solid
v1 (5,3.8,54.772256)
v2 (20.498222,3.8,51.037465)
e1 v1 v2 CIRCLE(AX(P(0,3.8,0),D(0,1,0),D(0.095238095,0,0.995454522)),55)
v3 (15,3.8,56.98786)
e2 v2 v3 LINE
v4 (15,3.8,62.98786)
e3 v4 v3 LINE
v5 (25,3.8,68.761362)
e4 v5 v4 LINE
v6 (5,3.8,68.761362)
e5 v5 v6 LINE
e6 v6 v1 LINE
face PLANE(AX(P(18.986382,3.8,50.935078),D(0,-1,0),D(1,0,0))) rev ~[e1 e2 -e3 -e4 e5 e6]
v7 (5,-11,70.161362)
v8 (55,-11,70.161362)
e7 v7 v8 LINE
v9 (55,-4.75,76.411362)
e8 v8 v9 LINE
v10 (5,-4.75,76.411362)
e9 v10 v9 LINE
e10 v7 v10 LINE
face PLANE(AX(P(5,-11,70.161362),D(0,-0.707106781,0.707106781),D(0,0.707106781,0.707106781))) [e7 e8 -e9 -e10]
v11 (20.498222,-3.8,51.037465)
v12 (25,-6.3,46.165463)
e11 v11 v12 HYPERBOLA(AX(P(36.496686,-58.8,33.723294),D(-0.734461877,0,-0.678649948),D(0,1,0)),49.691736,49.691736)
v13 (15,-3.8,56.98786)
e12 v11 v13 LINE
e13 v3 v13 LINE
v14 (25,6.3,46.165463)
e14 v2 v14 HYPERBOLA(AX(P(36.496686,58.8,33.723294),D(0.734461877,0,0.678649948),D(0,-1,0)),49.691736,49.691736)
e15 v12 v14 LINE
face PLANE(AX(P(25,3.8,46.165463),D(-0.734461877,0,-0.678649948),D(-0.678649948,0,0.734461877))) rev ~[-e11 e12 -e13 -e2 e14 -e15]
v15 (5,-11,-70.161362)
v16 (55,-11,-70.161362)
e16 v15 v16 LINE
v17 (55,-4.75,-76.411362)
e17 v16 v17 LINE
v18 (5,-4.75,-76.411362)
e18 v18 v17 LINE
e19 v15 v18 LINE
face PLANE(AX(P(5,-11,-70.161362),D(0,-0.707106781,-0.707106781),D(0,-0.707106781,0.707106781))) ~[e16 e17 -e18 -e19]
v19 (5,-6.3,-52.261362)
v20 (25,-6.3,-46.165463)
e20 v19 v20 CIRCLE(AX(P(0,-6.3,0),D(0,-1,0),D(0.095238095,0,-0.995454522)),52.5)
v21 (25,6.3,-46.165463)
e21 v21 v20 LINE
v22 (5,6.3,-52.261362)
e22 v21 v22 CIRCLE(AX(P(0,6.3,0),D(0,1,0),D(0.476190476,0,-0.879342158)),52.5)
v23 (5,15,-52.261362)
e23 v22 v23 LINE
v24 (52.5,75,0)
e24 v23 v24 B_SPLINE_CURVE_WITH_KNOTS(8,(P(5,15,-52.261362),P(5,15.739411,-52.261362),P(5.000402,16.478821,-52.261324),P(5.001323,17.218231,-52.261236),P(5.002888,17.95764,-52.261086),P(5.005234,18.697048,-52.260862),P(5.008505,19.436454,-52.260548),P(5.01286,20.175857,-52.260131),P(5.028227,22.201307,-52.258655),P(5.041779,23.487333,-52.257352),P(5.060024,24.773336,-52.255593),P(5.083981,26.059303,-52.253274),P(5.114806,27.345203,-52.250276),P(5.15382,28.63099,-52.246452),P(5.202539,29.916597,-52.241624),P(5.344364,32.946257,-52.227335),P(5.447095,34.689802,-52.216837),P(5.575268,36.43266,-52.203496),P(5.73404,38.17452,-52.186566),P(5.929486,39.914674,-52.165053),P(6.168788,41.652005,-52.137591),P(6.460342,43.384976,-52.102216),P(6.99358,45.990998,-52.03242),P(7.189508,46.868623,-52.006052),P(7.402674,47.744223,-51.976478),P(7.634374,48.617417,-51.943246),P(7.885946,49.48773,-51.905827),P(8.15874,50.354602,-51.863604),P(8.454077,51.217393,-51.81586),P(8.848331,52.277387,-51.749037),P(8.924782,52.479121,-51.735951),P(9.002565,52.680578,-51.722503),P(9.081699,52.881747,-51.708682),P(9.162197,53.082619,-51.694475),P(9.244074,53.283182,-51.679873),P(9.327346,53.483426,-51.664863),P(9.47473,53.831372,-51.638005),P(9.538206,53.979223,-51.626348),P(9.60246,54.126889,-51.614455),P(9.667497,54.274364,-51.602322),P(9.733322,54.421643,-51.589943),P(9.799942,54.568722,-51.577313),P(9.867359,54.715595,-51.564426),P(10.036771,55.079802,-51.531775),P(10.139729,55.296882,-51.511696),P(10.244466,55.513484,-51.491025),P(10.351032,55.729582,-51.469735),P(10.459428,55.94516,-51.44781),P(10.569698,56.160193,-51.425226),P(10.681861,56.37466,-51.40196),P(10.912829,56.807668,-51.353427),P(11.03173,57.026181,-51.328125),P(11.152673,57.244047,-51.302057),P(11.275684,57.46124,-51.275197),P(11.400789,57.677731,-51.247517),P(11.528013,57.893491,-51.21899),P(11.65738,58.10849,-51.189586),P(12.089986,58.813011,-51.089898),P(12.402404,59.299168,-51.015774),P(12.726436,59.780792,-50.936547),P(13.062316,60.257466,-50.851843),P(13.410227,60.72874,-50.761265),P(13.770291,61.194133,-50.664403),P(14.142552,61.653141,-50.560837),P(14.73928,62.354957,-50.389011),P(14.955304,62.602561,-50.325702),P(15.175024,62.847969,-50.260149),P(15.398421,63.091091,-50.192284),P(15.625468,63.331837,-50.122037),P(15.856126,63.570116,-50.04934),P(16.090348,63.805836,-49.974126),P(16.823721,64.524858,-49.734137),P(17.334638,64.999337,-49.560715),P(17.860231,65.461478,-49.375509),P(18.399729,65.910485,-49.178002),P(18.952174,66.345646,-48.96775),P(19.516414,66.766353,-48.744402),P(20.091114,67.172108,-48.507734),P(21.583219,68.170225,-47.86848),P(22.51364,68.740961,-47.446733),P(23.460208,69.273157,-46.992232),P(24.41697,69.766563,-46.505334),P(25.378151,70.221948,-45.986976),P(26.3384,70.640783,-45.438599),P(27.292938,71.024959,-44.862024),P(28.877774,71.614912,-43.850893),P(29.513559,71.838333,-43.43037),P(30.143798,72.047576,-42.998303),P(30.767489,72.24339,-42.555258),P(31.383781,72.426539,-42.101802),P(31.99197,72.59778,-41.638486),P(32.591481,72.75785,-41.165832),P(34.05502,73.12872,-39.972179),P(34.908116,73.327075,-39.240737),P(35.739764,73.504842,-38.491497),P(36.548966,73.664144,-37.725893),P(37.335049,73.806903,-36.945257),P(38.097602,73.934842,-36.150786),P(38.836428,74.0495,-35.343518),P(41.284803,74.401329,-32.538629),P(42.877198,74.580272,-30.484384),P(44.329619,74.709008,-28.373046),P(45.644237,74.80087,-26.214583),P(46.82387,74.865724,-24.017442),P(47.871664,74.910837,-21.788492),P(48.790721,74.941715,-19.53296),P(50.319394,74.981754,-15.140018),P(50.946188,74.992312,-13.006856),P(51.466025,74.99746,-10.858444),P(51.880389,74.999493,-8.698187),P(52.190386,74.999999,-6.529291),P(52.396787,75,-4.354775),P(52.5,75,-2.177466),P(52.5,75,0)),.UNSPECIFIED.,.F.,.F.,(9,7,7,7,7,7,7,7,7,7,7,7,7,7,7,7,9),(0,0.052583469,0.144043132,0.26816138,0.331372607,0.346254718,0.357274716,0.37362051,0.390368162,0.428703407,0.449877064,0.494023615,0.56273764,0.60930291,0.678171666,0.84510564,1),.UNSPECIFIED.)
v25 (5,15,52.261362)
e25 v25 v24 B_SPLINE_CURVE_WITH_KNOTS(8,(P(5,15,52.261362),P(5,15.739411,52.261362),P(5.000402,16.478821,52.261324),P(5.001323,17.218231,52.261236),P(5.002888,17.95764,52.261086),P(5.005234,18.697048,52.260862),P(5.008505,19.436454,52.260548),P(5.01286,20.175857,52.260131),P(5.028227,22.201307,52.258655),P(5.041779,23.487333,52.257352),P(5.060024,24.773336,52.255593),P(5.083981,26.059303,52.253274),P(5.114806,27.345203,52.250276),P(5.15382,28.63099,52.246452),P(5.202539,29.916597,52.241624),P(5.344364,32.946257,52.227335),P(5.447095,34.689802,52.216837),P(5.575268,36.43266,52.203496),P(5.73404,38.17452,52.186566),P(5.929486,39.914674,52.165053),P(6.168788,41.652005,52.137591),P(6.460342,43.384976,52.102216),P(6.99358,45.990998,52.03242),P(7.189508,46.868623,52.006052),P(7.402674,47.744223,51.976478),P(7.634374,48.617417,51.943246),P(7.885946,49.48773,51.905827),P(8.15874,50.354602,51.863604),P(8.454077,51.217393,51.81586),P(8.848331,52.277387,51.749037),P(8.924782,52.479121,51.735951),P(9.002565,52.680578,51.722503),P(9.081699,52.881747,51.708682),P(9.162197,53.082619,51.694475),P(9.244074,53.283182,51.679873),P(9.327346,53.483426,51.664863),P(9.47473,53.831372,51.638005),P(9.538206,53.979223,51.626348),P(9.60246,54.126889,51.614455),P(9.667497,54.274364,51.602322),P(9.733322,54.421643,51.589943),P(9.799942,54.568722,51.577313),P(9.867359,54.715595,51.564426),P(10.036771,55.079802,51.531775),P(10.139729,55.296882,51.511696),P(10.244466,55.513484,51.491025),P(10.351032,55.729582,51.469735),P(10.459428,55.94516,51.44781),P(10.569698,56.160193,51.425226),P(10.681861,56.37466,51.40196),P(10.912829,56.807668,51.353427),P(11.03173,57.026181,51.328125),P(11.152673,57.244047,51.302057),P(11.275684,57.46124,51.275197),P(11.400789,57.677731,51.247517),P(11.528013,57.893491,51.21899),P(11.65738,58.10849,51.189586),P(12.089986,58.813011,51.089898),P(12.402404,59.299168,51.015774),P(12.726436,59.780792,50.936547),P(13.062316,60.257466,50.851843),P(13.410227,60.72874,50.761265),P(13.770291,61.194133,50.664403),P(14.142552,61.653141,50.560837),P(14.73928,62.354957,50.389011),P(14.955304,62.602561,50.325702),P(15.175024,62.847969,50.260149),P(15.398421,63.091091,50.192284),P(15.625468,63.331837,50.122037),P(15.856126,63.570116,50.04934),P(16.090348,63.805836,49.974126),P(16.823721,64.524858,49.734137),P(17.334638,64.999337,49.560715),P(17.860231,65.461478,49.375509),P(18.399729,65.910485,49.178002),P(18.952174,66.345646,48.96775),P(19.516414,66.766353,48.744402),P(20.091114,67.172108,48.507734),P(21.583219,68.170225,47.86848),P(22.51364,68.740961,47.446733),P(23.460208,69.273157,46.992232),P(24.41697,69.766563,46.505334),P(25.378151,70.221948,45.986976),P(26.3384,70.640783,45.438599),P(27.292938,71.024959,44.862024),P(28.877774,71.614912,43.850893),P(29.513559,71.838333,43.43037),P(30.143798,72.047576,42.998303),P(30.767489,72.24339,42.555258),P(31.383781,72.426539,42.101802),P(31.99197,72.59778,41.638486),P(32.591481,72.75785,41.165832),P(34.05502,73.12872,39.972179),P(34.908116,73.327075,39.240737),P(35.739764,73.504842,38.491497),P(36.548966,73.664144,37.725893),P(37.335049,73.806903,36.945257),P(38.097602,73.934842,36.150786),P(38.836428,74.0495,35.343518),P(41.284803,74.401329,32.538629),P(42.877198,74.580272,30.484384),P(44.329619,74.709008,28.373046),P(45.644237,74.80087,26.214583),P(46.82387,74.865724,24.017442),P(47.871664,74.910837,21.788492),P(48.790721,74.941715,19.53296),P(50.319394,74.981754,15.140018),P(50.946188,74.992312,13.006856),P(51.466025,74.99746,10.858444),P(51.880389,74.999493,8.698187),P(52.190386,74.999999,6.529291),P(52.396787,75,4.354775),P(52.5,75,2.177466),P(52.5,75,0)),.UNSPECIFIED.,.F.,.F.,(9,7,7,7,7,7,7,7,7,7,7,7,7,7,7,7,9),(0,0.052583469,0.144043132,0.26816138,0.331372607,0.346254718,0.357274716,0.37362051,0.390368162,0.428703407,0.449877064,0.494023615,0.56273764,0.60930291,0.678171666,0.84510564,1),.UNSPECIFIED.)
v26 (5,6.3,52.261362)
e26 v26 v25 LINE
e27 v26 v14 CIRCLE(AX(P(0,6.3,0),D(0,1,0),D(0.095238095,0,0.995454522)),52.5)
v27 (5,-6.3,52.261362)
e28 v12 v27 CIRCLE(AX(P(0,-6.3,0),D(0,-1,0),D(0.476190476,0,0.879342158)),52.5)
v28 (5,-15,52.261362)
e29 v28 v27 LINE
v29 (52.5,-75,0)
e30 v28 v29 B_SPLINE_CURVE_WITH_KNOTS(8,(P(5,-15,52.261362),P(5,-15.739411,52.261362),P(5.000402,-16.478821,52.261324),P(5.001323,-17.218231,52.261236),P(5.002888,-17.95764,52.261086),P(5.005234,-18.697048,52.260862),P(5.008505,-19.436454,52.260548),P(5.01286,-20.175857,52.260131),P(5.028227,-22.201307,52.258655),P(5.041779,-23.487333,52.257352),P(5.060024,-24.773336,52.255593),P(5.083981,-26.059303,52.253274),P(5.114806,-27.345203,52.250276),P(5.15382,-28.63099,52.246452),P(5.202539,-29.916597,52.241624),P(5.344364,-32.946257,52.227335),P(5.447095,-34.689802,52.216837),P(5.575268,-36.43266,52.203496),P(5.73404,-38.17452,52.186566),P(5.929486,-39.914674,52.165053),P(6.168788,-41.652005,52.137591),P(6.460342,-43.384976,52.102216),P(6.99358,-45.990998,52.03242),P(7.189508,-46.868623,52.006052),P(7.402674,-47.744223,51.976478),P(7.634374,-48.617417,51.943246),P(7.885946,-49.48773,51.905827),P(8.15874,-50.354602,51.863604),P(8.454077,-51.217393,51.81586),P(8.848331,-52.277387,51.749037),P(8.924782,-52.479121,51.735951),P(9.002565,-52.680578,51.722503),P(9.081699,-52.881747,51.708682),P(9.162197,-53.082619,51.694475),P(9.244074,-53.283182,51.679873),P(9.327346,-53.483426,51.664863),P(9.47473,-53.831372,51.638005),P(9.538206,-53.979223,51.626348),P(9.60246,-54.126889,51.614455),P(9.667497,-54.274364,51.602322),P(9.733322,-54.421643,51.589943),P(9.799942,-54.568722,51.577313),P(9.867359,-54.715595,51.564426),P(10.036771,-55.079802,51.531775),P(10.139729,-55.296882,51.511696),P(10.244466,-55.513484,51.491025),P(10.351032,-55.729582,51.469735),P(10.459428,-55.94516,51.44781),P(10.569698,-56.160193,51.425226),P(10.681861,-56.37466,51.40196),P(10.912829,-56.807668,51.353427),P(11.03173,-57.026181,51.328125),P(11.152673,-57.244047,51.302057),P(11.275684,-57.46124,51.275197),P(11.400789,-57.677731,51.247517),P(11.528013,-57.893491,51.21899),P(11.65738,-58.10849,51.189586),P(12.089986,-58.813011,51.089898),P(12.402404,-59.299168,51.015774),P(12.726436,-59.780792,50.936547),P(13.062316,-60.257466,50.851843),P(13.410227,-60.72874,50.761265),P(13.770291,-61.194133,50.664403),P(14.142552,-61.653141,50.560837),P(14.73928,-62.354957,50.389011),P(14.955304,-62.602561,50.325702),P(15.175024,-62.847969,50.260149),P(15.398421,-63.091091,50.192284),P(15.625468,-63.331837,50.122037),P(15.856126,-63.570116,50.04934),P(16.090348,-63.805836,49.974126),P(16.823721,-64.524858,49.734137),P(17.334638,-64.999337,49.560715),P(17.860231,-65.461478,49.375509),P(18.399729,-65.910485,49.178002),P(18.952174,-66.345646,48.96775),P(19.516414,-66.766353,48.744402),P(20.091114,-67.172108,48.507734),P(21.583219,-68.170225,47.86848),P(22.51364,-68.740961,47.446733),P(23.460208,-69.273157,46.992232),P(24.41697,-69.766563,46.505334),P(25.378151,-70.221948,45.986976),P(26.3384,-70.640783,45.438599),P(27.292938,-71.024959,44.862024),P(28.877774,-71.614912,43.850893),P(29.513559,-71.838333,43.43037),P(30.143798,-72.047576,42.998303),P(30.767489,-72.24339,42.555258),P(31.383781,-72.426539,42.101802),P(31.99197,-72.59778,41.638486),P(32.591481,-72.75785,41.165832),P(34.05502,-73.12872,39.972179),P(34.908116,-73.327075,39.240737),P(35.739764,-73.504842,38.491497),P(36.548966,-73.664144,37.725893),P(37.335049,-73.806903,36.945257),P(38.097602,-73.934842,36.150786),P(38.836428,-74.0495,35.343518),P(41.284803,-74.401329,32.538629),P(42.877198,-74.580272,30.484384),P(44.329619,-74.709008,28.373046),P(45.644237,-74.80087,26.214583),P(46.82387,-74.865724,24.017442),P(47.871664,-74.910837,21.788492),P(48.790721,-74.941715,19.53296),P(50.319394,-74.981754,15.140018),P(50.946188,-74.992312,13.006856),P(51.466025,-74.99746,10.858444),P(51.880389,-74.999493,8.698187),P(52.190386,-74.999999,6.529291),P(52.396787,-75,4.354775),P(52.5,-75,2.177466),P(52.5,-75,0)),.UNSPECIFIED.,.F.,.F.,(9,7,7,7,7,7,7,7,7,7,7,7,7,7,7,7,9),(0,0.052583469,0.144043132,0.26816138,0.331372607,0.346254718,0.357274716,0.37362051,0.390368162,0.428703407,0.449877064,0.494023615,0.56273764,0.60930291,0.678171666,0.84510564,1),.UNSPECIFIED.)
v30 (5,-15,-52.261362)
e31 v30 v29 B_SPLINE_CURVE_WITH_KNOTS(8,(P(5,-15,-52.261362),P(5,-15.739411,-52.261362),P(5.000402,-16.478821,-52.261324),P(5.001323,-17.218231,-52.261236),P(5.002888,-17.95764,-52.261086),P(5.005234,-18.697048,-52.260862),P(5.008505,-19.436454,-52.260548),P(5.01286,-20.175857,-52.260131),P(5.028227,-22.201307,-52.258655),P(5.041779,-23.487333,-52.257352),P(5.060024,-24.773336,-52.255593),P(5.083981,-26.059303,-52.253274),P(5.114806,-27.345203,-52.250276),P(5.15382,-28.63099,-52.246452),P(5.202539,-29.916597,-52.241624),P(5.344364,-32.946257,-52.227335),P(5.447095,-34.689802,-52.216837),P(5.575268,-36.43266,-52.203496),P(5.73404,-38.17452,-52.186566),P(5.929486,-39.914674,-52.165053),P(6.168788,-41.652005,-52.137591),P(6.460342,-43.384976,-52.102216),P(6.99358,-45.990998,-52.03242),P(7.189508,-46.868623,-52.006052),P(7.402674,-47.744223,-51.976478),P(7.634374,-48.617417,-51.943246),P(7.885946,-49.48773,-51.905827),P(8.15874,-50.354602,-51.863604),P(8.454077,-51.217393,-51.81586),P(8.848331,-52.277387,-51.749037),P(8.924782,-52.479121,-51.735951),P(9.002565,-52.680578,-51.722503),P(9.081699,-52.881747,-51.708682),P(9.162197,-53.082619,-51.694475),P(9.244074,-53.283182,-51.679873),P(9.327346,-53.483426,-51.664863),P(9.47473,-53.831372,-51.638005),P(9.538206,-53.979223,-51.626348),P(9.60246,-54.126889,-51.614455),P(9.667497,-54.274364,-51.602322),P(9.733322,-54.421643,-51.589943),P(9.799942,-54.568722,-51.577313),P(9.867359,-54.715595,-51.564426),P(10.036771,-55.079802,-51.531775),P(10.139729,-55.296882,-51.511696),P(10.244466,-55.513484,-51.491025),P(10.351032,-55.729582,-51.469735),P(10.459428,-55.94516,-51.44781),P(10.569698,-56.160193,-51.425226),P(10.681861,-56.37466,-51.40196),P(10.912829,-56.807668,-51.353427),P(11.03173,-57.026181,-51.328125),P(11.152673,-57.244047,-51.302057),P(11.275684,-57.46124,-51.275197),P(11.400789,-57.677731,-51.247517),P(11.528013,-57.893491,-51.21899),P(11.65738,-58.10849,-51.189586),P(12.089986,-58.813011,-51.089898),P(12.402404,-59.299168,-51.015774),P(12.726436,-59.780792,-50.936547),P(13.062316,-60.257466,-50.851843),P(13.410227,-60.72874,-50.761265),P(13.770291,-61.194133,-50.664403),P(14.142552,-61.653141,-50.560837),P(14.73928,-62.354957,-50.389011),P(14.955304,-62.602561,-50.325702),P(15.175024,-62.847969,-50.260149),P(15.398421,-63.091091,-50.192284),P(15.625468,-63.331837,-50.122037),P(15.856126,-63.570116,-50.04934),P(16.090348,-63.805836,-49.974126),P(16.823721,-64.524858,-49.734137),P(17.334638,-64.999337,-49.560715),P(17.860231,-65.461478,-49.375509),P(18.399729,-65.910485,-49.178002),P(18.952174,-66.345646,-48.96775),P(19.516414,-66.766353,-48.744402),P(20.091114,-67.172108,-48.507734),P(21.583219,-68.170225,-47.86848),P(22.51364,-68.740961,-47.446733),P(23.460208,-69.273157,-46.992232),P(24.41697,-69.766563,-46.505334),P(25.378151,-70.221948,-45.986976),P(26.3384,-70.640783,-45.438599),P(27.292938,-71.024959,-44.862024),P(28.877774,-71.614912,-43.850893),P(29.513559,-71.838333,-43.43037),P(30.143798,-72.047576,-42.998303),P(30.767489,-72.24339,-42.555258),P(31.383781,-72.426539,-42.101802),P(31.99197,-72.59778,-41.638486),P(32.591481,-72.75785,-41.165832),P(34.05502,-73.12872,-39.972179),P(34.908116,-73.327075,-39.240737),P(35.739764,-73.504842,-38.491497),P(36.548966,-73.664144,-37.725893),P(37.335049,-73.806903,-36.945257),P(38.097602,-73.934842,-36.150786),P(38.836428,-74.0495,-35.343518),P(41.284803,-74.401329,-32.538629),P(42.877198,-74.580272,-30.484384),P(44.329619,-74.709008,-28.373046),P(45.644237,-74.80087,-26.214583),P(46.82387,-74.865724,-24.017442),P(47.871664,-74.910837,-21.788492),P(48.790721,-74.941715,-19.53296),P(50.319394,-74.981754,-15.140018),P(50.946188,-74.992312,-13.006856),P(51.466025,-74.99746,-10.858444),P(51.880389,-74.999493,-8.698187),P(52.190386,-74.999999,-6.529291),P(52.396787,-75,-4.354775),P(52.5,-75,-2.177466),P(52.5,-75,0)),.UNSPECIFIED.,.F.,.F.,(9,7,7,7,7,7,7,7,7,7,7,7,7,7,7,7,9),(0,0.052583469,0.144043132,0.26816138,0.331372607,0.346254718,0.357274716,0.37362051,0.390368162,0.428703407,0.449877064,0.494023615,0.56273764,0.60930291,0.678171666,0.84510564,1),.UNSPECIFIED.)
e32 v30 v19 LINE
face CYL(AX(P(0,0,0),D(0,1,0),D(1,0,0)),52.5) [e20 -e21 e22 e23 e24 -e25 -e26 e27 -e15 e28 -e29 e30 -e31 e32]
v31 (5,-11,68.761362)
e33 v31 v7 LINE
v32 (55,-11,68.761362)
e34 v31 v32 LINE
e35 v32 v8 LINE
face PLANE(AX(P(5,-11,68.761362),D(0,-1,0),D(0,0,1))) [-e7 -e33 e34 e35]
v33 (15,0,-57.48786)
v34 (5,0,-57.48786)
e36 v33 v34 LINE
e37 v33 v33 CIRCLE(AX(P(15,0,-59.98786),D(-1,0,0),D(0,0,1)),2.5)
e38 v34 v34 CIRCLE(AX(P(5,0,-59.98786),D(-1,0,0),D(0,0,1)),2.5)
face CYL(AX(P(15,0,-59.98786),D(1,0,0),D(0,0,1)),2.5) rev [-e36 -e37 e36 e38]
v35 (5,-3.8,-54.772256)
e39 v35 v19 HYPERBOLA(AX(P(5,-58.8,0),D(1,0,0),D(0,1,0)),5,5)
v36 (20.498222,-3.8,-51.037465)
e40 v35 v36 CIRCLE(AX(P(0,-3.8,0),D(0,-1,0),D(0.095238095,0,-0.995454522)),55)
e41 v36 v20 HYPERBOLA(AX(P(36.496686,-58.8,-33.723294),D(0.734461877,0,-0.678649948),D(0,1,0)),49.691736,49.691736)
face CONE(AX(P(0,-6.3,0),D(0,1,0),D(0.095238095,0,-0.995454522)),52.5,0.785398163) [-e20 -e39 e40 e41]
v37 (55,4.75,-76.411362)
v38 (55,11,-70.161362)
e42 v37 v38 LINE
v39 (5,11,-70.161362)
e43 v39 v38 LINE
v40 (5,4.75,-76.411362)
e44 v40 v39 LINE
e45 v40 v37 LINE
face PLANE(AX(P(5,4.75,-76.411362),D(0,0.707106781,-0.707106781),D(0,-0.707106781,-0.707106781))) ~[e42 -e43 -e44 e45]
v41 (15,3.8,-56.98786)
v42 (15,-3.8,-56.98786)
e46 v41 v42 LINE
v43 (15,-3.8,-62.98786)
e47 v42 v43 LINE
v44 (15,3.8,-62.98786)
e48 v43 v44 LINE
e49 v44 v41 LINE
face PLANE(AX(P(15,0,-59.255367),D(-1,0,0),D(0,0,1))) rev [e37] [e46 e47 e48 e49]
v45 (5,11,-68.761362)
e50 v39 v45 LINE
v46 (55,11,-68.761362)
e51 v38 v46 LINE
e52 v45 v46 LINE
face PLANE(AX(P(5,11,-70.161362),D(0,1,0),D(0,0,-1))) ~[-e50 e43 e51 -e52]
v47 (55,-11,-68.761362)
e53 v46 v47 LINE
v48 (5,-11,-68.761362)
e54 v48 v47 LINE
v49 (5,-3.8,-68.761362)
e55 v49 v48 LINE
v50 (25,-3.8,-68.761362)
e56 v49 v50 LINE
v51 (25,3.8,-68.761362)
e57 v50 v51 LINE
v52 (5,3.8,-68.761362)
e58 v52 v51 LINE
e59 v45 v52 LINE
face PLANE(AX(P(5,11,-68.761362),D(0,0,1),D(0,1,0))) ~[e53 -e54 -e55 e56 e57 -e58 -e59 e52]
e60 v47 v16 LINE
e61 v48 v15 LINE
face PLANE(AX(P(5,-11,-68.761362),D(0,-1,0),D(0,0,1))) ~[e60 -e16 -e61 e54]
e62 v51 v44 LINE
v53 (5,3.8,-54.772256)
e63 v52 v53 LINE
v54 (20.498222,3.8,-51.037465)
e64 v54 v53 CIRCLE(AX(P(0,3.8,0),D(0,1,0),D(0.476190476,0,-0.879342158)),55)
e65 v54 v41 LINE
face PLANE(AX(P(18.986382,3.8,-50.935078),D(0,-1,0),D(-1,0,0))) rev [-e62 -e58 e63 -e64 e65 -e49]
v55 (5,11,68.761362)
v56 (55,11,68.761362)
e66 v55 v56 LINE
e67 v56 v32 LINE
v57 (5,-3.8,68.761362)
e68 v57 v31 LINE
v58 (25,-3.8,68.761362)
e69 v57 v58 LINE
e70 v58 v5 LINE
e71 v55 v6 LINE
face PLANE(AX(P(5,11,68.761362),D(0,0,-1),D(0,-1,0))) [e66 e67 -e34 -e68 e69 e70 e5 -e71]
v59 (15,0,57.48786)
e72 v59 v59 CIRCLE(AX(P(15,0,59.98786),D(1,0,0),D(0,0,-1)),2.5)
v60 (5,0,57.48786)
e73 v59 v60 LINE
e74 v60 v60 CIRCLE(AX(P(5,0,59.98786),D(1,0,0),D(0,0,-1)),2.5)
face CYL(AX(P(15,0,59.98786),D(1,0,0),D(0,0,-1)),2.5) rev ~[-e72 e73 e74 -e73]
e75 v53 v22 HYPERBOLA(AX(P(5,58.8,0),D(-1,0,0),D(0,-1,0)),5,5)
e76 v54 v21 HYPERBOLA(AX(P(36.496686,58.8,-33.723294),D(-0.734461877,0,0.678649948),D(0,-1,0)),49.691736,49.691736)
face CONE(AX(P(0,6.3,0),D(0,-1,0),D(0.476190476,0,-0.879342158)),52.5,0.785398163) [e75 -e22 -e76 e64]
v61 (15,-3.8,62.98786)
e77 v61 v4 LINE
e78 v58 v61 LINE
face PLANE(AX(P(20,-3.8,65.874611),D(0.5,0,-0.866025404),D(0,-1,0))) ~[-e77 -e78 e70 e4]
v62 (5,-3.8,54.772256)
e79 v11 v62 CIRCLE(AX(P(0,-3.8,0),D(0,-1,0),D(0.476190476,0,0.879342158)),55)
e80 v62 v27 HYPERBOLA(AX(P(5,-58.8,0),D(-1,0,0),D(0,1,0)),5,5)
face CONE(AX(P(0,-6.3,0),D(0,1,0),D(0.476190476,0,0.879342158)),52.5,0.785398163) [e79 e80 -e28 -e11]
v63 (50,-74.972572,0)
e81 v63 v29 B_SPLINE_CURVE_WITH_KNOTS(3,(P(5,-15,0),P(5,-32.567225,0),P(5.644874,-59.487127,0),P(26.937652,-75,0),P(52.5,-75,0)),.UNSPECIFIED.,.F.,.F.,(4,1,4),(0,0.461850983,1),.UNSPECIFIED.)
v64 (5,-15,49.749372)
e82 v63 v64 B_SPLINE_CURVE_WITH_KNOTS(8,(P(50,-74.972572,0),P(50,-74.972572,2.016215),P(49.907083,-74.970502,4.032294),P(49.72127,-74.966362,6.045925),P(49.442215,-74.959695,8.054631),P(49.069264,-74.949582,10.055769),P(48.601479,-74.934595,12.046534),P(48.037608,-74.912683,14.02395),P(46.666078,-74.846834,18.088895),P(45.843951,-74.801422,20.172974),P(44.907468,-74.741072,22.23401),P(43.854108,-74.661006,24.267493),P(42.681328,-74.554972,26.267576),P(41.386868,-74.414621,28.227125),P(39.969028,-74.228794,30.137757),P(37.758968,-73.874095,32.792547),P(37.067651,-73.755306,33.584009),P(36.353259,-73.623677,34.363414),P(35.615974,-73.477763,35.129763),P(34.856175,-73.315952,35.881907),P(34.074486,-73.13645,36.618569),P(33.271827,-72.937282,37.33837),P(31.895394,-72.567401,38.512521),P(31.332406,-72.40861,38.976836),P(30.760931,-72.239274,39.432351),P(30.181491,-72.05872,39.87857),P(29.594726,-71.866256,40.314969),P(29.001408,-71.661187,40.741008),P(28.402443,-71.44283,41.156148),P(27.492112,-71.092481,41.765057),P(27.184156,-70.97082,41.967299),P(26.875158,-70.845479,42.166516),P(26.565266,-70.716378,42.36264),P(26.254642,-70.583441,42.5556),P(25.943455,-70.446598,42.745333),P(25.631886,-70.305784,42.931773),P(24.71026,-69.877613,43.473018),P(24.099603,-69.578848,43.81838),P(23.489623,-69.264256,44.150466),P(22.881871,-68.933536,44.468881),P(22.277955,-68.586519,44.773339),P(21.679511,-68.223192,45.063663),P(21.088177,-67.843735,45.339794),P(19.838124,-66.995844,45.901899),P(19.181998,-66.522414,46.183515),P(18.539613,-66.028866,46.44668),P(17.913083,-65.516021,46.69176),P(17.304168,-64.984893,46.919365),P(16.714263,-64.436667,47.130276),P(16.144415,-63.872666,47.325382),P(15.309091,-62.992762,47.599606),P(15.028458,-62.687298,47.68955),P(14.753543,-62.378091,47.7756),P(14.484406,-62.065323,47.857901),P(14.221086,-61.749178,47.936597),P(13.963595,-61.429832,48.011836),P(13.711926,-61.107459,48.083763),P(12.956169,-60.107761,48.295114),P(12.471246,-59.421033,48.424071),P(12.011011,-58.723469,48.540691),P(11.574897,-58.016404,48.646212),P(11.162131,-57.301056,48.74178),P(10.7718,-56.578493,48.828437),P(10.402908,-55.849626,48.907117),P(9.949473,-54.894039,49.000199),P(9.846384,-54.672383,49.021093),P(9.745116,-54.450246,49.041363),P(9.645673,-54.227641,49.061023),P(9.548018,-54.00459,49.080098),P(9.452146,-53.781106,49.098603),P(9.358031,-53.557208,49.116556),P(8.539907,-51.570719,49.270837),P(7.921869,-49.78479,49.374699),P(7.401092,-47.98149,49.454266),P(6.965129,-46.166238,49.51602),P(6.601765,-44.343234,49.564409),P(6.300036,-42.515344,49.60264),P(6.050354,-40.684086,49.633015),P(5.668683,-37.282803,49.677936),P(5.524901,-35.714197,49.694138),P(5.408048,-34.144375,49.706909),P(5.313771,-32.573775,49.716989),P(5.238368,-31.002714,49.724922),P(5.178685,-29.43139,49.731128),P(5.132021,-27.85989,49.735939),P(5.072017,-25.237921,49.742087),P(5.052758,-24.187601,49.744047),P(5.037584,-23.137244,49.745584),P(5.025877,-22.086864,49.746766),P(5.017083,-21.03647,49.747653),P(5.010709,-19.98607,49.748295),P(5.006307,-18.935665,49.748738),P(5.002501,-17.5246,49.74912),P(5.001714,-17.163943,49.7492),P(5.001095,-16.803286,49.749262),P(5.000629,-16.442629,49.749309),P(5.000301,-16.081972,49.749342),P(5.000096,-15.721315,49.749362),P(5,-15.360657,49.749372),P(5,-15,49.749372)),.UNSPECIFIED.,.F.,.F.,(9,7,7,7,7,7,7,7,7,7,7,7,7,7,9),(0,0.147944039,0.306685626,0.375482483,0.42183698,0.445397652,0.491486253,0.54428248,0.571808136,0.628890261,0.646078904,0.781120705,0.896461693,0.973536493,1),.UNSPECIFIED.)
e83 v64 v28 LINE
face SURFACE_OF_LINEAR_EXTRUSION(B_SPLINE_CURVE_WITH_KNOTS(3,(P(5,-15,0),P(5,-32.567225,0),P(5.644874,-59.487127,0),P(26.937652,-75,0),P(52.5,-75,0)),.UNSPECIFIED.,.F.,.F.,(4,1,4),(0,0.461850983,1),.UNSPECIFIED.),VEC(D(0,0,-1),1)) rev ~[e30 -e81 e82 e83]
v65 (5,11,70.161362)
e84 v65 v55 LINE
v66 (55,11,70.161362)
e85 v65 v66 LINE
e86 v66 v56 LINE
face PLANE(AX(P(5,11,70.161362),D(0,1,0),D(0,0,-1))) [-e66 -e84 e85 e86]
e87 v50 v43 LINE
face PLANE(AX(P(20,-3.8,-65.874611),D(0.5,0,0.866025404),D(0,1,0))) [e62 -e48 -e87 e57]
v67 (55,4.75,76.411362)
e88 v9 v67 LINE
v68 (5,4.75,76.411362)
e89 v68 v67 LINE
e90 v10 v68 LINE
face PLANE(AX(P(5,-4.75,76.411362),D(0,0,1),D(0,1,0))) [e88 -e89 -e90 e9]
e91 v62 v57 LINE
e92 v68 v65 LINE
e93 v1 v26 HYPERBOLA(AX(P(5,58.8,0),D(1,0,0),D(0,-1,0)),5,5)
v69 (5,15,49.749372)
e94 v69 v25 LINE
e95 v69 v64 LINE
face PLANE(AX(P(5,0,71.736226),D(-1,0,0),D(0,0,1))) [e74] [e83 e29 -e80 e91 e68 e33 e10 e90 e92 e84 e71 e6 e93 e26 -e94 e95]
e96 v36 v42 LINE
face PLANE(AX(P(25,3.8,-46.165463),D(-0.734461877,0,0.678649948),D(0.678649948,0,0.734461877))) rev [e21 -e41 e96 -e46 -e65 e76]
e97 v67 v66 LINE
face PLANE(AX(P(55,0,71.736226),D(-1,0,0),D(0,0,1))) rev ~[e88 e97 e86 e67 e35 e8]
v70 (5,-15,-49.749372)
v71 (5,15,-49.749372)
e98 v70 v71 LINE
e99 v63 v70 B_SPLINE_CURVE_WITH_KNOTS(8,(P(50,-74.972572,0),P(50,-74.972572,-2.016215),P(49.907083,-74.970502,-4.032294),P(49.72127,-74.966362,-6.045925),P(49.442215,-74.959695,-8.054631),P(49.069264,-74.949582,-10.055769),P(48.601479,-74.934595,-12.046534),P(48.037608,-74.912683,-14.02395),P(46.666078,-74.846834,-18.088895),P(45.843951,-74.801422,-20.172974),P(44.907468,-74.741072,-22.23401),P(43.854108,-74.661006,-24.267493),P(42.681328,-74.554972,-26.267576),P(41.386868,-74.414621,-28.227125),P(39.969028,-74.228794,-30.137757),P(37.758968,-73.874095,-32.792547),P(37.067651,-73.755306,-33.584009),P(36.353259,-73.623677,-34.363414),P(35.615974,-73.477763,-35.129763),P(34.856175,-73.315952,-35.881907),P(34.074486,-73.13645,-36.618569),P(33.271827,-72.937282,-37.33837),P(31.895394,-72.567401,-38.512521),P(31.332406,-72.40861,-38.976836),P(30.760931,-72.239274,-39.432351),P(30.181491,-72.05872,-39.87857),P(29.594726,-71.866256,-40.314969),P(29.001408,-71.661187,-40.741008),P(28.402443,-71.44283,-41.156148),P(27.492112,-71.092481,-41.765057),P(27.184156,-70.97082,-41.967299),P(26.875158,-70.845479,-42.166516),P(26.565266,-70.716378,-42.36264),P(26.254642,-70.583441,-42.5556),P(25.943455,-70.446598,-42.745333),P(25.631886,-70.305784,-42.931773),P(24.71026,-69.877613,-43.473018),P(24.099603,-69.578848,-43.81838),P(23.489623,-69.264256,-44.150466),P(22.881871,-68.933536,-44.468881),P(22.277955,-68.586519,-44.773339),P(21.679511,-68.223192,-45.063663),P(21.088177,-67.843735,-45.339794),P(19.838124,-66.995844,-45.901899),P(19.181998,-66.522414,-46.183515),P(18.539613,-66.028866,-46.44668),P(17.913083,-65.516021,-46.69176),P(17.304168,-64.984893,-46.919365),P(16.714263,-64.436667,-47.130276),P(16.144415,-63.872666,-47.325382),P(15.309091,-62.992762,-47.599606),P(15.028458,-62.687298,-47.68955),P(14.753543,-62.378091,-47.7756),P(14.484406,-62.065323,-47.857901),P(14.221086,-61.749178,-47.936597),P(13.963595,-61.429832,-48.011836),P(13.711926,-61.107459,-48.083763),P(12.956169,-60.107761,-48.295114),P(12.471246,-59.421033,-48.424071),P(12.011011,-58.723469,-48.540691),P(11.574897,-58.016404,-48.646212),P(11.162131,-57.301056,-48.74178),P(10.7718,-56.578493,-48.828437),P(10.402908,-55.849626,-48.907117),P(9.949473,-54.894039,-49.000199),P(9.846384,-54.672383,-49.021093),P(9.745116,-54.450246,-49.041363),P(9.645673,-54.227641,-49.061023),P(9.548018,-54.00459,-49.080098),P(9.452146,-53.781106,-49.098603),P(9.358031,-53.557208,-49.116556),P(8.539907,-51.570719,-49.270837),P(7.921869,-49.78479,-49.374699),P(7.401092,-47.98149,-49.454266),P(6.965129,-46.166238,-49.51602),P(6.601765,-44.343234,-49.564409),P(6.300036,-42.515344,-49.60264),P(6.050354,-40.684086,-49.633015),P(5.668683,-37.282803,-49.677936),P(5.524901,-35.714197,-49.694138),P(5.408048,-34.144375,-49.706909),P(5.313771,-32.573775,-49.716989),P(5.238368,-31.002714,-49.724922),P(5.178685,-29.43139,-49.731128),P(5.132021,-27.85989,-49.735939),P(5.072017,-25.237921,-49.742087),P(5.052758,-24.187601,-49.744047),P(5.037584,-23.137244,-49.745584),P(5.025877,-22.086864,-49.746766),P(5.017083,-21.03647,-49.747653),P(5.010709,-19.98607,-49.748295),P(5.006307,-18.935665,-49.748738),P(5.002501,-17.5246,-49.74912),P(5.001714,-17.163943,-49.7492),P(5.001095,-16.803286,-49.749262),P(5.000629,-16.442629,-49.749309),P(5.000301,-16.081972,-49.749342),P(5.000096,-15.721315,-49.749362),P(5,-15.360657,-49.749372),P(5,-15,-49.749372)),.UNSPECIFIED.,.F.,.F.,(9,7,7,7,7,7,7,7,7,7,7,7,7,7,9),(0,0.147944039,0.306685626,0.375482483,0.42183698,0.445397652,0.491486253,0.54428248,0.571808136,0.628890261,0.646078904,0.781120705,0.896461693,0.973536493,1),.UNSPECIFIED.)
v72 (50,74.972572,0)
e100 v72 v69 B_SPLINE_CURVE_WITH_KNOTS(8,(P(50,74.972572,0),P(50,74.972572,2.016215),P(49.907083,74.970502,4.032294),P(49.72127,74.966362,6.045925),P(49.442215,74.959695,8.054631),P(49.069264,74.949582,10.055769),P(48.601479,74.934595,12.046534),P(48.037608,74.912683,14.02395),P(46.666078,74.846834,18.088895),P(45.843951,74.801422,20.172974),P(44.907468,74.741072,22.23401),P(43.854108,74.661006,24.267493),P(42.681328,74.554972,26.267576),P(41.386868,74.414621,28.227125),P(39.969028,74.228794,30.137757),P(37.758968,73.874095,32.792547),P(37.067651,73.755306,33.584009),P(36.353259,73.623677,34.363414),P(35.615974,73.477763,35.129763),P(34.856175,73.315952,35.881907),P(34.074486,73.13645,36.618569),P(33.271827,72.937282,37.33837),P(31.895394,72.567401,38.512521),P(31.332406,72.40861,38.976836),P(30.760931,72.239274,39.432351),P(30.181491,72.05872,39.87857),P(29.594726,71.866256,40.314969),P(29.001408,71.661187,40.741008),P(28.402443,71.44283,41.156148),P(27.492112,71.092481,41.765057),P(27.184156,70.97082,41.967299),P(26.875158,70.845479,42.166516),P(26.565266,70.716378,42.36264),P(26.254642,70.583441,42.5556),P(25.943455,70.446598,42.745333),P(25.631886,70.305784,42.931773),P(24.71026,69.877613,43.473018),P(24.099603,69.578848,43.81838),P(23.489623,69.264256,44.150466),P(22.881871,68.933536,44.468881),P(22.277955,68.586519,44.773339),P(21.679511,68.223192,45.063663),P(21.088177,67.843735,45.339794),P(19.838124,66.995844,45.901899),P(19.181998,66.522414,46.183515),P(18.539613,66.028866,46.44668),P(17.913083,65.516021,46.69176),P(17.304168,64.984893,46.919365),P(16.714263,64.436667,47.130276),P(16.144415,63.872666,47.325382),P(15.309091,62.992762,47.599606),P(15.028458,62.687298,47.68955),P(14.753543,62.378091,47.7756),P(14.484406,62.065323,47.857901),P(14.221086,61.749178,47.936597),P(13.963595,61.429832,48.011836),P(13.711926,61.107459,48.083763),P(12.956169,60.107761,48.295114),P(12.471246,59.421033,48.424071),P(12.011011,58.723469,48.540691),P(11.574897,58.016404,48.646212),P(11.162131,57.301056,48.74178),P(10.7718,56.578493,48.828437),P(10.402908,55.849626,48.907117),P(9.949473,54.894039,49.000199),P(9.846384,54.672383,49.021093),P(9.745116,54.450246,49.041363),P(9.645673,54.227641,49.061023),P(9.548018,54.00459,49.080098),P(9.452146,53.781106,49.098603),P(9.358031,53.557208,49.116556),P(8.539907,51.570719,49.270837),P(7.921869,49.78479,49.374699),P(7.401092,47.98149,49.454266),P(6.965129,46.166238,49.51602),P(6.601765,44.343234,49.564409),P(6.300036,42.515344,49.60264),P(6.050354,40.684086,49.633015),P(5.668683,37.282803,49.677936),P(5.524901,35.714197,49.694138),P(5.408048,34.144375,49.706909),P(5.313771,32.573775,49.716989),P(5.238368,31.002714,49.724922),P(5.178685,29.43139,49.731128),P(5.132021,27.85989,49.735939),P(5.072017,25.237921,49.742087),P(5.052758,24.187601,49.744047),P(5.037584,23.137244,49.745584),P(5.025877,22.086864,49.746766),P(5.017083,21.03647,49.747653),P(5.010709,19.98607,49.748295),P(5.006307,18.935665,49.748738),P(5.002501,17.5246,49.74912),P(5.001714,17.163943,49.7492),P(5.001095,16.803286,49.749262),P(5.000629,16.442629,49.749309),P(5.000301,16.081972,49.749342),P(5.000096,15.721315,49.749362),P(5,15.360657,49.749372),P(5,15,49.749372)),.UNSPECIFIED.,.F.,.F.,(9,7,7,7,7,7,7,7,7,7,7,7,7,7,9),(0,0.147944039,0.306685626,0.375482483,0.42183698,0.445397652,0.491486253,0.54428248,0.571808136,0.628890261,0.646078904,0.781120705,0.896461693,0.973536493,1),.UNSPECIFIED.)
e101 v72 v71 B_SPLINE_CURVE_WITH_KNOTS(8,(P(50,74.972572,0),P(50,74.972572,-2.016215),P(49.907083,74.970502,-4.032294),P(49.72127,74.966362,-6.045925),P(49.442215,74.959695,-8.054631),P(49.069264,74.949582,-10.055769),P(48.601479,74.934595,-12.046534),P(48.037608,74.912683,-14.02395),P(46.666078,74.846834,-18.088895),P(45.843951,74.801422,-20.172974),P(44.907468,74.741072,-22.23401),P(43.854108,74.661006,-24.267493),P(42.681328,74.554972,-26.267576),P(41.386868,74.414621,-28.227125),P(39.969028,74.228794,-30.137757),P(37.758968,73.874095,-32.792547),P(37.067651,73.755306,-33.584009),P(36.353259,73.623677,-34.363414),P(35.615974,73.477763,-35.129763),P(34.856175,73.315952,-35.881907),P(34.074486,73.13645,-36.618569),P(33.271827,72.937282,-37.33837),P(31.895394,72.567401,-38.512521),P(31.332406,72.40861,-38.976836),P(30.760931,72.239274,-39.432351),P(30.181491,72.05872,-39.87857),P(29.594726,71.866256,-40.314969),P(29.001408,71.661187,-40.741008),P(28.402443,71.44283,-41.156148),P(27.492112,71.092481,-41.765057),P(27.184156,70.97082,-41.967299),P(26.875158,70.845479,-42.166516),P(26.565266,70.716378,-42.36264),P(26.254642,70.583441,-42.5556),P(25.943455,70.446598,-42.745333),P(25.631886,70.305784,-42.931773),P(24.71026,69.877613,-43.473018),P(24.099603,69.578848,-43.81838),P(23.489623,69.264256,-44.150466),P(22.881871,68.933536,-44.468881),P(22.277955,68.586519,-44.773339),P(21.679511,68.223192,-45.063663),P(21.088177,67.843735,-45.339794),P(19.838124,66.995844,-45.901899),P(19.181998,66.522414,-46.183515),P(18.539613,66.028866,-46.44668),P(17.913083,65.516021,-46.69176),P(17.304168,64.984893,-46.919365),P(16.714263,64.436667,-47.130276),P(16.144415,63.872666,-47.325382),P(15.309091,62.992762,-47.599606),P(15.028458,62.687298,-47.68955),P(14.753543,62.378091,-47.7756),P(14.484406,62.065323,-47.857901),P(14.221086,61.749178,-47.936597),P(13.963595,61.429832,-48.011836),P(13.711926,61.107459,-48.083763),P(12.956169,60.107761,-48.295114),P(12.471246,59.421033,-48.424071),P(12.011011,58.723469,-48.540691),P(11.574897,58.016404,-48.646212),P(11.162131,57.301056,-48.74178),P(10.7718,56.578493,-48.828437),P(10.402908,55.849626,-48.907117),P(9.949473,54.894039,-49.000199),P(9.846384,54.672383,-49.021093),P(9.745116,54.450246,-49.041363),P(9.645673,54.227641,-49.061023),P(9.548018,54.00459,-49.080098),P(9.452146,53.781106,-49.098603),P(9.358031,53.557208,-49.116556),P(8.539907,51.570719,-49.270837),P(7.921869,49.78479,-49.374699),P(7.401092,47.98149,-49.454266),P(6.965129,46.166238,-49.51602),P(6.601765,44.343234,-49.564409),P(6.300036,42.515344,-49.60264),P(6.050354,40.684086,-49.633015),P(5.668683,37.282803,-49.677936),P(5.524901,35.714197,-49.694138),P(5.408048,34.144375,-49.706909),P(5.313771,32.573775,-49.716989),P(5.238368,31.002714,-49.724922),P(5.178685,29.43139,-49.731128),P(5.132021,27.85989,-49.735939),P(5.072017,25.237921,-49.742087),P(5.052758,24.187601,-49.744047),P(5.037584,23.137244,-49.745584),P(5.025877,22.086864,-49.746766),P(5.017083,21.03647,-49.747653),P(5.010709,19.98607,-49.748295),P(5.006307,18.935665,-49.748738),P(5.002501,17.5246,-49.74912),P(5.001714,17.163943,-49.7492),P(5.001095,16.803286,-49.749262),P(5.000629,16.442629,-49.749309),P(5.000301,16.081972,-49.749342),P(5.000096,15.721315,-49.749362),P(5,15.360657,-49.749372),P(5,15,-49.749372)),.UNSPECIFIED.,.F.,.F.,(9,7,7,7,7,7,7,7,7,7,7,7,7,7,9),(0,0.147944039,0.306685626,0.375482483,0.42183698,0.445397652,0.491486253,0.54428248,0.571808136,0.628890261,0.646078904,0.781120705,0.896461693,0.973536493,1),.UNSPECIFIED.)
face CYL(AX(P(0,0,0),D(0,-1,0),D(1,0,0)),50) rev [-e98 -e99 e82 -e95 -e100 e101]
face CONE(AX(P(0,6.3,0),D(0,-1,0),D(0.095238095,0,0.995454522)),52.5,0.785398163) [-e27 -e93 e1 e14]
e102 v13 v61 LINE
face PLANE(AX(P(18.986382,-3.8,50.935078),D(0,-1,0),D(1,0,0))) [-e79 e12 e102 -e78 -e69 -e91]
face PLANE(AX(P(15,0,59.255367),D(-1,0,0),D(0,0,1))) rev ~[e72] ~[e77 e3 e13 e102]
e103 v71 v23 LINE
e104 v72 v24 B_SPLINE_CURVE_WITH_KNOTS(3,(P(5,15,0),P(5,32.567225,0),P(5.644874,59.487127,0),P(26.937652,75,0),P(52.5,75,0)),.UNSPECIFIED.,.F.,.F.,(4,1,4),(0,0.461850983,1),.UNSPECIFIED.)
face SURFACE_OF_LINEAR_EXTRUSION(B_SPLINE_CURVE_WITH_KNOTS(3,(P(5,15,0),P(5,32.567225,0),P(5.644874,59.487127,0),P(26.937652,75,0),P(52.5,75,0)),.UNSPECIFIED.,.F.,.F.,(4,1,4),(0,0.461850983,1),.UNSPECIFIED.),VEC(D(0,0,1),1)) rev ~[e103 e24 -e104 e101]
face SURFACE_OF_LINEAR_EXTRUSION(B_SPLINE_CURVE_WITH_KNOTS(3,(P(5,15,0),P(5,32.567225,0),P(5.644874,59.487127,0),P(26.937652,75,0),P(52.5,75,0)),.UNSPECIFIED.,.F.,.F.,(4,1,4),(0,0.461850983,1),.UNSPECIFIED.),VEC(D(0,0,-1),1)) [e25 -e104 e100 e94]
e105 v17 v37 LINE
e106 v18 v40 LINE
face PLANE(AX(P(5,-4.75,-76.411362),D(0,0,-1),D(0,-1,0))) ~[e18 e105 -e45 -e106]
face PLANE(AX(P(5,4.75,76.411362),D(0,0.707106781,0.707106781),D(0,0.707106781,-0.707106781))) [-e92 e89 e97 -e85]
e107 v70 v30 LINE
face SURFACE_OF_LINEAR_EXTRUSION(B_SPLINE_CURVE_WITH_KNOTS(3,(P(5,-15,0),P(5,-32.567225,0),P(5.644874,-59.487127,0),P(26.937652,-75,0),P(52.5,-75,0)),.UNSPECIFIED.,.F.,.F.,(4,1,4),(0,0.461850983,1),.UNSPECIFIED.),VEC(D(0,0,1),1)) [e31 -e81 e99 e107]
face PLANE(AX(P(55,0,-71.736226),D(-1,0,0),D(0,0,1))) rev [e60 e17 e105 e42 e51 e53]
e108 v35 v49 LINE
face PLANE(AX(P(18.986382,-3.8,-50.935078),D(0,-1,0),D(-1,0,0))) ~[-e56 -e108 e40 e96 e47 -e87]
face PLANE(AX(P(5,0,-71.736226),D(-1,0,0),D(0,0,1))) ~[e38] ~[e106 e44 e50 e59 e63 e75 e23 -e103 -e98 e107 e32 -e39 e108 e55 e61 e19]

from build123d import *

# Parameters (mm, degrees)
SKETCH2_R                 = 52.5
SKETCH2_R_2               = 50
EXTRUDE_THIN1_DEPTH       = 75
CUT_EXTRUDE1_DEPTH        = 75
BOSS_EXTRUDE3_DEPTH       = 10
BOSS_EXTRUDE4_DEPTH       = 50
CHAMFER1_SIZE             = 10
CHAMFER1_SIZE2            = 5.773502691896273
CUT_EXTRUDE2_REACH        = 116.297
SKETCH9_R                 = 2.500000000000002
BOSS_EXTRUDE5_START       = -7.6
BOSS_EXTRUDE5_DEPTH       = 7.6
CHAMFER2_SIZE             = 2.5
CHAMFER1_OF_MIRROR1_SIZE2 = 5.773502691896273
CHAMFER1_OF_MIRROR1_SIZE  = 10
CHAMFER2_OF_MIRROR1_SIZE  = 2.5
CUT_EXTRUDE4_DEPTH        = 55


with BuildPart() as part:
    # Sketch2 → Extrude-Thin1 (new, symmetric)
    with BuildSketch(Plane(origin=(0, 0, 0), x_dir=(1, 0, 0), z_dir=(0, 1, 0))):
        Circle(SKETCH2_R)
        Circle(SKETCH2_R_2, mode=Mode.SUBTRACT)
    extrude(amount=EXTRUDE_THIN1_DEPTH, both=True)

    # Sketch3 → Cut-Extrude1 (cut, symmetric)
    with BuildSketch(Plane(origin=(0, 0, 0), x_dir=(1, 0, 0), z_dir=(0, 1, 0))):
        Polygon((4.999999999999993, 59.38113102411591), (5.000000000000009, -67.26797399217554), (-132.829326150241, 10.543220597022644), align=None)
    extrude(amount=CUT_EXTRUDE1_DEPTH, both=True, mode=Mode.SUBTRACT)

    # Sketch4 → Boss-Extrude3 (add)
    with BuildSketch(Plane.ZY.offset(-5)):
        Polygon((49.749371855331, 3.799999999999979), (49.749371855331, -3.7999999999999963), (52.261362400917186, -3.800000000000001), (68.76136240091718, -3.800000000000007), (68.76136240091718, 3.799999999999994), (52.261362400917186, 3.799999999999984), align=None)
    boss_extrude3 = extrude(amount=-BOSS_EXTRUDE3_DEPTH)

    # Sketch8 → Boss-Extrude4 (add)
    with BuildSketch(Plane.ZY.offset(-5)):
        Polygon((68.76136240091718, 10.999999999999995), (68.76136240091718, 3.799999999999994), (68.76136240091718, -3.800000000000007), (68.76136240091718, -11.000000000000009), (70.16136240091718, -11.000000000000007), (76.41136240091718, -4.750000000000007), (76.41136240091718, 4.7499999999999964), (70.16136240091718, 10.999999999999993), align=None)
    boss_extrude4 = extrude(amount=-BOSS_EXTRUDE4_DEPTH)

    # Chamfer1
    chamfer1_edges = [part.edges().sort_by_distance(p)[0] for p in [
        (15.000000000000009, -6.22e-15, 68.76136240091718),
    ]]
    chamfer1_side = [part.faces().sort_by_distance(p)[0] for p in [
        (31.48437500000001, -7.01e-15, 68.76136240091718),
    ]]
    chamfer(chamfer1_edges, length=CHAMFER1_SIZE, length2=CHAMFER1_SIZE2, reference=chamfer1_side[0])

    # Sketch9 → Cut-Extrude2 (cut, up to next)
    with BuildSketch(Plane(origin=(15, 0, -1.86e-15), x_dir=(-1.2e-16, 0, -1), z_dir=(1, 0, -1.2e-16)), mode=Mode.PRIVATE) as cut_extrude2_sk1:
        with Locations((-59.98785970902089, 0)):
            Circle(SKETCH9_R)
    cut_extrude2_tool1 = extrude(cut_extrude2_sk1.sketch, amount=-CUT_EXTRUDE2_REACH, mode=Mode.PRIVATE) & part.part
    cut_extrude2 = cut_extrude2_tool1.solids().sort_by_distance((15, 0, 59.98786))[0]
    add(cut_extrude2, mode=Mode.SUBTRACT)

    # Sketch10 → Boss-Extrude5 (add)
    with BuildSketch(Plane.XZ.offset(3.799999999999893).offset(BOSS_EXTRUDE5_START)):
        with BuildLine():
            Line((24.999999999999964, 46.1654632815485), (15.000000000000007, 56.98785970902091))
            Line((15.000000000000009, 56.98785970902091), (15.00000000000001, 50.311529493745276))
            ThreePointArc((15.000000000000021, 50.311529493745276), (20.10714963039217, 48.49693324057741), (24.99999999999998, 46.165463281548504))
        make_face()
    boss_extrude5 = extrude(amount=BOSS_EXTRUDE5_DEPTH)

    # Chamfer2
    chamfer2_edges = [part.edges().sort_by_distance(p)[0] for p in [
        (15.30653443854551, 3.800000000000107, 50.219119899512584),
        (15.306534438545505, -3.7999999999998963, 50.219119899512584),
    ]]
    chamfer(chamfer2_edges, length=CHAMFER2_SIZE)

    # Mirror1: Boss-Extrude3, Boss-Extrude4, Cut-Extrude2, Boss-Extrude5 across plane
    add(boss_extrude3.mirror(Plane.XY))
    add(boss_extrude4.mirror(Plane.XY))
    add(cut_extrude2.mirror(Plane.XY), mode=Mode.SUBTRACT)
    add(boss_extrude5.mirror(Plane.XY))

    # Chamfer1 of Mirror1
    chamfer1_of_mirror1_edges = [part.edges().sort_by_distance(p)[0] for p in [
        (15.000000000000009, -6.22e-15, -68.76136240091718),
    ]]
    chamfer(chamfer1_of_mirror1_edges, length=CHAMFER1_OF_MIRROR1_SIZE, length2=CHAMFER1_OF_MIRROR1_SIZE2)

    # Chamfer2 of Mirror1
    chamfer2_of_mirror1_edges = [part.edges().sort_by_distance(p)[0] for p in [
        (15.30653443854551, 3.800000000000107, -50.219119899512584),
        (15.306534438545505, -3.7999999999998963, -50.219119899512584),
    ]]
    chamfer(chamfer2_of_mirror1_edges, length=CHAMFER2_OF_MIRROR1_SIZE)

    # Sketch12 → Cut-Extrude4 (cut, symmetric)
    with BuildSketch(Plane.XY):
        with BuildLine():
            Line((5.000000000000006, 15), (5.000000000000006, 75))
            Line((5.000000000000006, 75), (52.50000000000001, 75))
            add(Edge.make_bspline(
                [(5.000000000000006, 15), (5.000000000000009, 32.56722451667293), (5.644874110491452, 59.48712745969903), (26.937651649578847, 74.99999999999999), (52.50000000000001, 75)],
                knots=[0, 0, 0, 0, 0.46185098317111584, 1, 1, 1, 1], degree=3))
        make_face()
    cut_extrude4 = extrude(amount=CUT_EXTRUDE4_DEPTH, both=True, mode=Mode.SUBTRACT)

    # Mirror4: Cut-Extrude4 across plane
    add(cut_extrude4.mirror(Plane.ZX), mode=Mode.SUBTRACT)


solid = part.part
